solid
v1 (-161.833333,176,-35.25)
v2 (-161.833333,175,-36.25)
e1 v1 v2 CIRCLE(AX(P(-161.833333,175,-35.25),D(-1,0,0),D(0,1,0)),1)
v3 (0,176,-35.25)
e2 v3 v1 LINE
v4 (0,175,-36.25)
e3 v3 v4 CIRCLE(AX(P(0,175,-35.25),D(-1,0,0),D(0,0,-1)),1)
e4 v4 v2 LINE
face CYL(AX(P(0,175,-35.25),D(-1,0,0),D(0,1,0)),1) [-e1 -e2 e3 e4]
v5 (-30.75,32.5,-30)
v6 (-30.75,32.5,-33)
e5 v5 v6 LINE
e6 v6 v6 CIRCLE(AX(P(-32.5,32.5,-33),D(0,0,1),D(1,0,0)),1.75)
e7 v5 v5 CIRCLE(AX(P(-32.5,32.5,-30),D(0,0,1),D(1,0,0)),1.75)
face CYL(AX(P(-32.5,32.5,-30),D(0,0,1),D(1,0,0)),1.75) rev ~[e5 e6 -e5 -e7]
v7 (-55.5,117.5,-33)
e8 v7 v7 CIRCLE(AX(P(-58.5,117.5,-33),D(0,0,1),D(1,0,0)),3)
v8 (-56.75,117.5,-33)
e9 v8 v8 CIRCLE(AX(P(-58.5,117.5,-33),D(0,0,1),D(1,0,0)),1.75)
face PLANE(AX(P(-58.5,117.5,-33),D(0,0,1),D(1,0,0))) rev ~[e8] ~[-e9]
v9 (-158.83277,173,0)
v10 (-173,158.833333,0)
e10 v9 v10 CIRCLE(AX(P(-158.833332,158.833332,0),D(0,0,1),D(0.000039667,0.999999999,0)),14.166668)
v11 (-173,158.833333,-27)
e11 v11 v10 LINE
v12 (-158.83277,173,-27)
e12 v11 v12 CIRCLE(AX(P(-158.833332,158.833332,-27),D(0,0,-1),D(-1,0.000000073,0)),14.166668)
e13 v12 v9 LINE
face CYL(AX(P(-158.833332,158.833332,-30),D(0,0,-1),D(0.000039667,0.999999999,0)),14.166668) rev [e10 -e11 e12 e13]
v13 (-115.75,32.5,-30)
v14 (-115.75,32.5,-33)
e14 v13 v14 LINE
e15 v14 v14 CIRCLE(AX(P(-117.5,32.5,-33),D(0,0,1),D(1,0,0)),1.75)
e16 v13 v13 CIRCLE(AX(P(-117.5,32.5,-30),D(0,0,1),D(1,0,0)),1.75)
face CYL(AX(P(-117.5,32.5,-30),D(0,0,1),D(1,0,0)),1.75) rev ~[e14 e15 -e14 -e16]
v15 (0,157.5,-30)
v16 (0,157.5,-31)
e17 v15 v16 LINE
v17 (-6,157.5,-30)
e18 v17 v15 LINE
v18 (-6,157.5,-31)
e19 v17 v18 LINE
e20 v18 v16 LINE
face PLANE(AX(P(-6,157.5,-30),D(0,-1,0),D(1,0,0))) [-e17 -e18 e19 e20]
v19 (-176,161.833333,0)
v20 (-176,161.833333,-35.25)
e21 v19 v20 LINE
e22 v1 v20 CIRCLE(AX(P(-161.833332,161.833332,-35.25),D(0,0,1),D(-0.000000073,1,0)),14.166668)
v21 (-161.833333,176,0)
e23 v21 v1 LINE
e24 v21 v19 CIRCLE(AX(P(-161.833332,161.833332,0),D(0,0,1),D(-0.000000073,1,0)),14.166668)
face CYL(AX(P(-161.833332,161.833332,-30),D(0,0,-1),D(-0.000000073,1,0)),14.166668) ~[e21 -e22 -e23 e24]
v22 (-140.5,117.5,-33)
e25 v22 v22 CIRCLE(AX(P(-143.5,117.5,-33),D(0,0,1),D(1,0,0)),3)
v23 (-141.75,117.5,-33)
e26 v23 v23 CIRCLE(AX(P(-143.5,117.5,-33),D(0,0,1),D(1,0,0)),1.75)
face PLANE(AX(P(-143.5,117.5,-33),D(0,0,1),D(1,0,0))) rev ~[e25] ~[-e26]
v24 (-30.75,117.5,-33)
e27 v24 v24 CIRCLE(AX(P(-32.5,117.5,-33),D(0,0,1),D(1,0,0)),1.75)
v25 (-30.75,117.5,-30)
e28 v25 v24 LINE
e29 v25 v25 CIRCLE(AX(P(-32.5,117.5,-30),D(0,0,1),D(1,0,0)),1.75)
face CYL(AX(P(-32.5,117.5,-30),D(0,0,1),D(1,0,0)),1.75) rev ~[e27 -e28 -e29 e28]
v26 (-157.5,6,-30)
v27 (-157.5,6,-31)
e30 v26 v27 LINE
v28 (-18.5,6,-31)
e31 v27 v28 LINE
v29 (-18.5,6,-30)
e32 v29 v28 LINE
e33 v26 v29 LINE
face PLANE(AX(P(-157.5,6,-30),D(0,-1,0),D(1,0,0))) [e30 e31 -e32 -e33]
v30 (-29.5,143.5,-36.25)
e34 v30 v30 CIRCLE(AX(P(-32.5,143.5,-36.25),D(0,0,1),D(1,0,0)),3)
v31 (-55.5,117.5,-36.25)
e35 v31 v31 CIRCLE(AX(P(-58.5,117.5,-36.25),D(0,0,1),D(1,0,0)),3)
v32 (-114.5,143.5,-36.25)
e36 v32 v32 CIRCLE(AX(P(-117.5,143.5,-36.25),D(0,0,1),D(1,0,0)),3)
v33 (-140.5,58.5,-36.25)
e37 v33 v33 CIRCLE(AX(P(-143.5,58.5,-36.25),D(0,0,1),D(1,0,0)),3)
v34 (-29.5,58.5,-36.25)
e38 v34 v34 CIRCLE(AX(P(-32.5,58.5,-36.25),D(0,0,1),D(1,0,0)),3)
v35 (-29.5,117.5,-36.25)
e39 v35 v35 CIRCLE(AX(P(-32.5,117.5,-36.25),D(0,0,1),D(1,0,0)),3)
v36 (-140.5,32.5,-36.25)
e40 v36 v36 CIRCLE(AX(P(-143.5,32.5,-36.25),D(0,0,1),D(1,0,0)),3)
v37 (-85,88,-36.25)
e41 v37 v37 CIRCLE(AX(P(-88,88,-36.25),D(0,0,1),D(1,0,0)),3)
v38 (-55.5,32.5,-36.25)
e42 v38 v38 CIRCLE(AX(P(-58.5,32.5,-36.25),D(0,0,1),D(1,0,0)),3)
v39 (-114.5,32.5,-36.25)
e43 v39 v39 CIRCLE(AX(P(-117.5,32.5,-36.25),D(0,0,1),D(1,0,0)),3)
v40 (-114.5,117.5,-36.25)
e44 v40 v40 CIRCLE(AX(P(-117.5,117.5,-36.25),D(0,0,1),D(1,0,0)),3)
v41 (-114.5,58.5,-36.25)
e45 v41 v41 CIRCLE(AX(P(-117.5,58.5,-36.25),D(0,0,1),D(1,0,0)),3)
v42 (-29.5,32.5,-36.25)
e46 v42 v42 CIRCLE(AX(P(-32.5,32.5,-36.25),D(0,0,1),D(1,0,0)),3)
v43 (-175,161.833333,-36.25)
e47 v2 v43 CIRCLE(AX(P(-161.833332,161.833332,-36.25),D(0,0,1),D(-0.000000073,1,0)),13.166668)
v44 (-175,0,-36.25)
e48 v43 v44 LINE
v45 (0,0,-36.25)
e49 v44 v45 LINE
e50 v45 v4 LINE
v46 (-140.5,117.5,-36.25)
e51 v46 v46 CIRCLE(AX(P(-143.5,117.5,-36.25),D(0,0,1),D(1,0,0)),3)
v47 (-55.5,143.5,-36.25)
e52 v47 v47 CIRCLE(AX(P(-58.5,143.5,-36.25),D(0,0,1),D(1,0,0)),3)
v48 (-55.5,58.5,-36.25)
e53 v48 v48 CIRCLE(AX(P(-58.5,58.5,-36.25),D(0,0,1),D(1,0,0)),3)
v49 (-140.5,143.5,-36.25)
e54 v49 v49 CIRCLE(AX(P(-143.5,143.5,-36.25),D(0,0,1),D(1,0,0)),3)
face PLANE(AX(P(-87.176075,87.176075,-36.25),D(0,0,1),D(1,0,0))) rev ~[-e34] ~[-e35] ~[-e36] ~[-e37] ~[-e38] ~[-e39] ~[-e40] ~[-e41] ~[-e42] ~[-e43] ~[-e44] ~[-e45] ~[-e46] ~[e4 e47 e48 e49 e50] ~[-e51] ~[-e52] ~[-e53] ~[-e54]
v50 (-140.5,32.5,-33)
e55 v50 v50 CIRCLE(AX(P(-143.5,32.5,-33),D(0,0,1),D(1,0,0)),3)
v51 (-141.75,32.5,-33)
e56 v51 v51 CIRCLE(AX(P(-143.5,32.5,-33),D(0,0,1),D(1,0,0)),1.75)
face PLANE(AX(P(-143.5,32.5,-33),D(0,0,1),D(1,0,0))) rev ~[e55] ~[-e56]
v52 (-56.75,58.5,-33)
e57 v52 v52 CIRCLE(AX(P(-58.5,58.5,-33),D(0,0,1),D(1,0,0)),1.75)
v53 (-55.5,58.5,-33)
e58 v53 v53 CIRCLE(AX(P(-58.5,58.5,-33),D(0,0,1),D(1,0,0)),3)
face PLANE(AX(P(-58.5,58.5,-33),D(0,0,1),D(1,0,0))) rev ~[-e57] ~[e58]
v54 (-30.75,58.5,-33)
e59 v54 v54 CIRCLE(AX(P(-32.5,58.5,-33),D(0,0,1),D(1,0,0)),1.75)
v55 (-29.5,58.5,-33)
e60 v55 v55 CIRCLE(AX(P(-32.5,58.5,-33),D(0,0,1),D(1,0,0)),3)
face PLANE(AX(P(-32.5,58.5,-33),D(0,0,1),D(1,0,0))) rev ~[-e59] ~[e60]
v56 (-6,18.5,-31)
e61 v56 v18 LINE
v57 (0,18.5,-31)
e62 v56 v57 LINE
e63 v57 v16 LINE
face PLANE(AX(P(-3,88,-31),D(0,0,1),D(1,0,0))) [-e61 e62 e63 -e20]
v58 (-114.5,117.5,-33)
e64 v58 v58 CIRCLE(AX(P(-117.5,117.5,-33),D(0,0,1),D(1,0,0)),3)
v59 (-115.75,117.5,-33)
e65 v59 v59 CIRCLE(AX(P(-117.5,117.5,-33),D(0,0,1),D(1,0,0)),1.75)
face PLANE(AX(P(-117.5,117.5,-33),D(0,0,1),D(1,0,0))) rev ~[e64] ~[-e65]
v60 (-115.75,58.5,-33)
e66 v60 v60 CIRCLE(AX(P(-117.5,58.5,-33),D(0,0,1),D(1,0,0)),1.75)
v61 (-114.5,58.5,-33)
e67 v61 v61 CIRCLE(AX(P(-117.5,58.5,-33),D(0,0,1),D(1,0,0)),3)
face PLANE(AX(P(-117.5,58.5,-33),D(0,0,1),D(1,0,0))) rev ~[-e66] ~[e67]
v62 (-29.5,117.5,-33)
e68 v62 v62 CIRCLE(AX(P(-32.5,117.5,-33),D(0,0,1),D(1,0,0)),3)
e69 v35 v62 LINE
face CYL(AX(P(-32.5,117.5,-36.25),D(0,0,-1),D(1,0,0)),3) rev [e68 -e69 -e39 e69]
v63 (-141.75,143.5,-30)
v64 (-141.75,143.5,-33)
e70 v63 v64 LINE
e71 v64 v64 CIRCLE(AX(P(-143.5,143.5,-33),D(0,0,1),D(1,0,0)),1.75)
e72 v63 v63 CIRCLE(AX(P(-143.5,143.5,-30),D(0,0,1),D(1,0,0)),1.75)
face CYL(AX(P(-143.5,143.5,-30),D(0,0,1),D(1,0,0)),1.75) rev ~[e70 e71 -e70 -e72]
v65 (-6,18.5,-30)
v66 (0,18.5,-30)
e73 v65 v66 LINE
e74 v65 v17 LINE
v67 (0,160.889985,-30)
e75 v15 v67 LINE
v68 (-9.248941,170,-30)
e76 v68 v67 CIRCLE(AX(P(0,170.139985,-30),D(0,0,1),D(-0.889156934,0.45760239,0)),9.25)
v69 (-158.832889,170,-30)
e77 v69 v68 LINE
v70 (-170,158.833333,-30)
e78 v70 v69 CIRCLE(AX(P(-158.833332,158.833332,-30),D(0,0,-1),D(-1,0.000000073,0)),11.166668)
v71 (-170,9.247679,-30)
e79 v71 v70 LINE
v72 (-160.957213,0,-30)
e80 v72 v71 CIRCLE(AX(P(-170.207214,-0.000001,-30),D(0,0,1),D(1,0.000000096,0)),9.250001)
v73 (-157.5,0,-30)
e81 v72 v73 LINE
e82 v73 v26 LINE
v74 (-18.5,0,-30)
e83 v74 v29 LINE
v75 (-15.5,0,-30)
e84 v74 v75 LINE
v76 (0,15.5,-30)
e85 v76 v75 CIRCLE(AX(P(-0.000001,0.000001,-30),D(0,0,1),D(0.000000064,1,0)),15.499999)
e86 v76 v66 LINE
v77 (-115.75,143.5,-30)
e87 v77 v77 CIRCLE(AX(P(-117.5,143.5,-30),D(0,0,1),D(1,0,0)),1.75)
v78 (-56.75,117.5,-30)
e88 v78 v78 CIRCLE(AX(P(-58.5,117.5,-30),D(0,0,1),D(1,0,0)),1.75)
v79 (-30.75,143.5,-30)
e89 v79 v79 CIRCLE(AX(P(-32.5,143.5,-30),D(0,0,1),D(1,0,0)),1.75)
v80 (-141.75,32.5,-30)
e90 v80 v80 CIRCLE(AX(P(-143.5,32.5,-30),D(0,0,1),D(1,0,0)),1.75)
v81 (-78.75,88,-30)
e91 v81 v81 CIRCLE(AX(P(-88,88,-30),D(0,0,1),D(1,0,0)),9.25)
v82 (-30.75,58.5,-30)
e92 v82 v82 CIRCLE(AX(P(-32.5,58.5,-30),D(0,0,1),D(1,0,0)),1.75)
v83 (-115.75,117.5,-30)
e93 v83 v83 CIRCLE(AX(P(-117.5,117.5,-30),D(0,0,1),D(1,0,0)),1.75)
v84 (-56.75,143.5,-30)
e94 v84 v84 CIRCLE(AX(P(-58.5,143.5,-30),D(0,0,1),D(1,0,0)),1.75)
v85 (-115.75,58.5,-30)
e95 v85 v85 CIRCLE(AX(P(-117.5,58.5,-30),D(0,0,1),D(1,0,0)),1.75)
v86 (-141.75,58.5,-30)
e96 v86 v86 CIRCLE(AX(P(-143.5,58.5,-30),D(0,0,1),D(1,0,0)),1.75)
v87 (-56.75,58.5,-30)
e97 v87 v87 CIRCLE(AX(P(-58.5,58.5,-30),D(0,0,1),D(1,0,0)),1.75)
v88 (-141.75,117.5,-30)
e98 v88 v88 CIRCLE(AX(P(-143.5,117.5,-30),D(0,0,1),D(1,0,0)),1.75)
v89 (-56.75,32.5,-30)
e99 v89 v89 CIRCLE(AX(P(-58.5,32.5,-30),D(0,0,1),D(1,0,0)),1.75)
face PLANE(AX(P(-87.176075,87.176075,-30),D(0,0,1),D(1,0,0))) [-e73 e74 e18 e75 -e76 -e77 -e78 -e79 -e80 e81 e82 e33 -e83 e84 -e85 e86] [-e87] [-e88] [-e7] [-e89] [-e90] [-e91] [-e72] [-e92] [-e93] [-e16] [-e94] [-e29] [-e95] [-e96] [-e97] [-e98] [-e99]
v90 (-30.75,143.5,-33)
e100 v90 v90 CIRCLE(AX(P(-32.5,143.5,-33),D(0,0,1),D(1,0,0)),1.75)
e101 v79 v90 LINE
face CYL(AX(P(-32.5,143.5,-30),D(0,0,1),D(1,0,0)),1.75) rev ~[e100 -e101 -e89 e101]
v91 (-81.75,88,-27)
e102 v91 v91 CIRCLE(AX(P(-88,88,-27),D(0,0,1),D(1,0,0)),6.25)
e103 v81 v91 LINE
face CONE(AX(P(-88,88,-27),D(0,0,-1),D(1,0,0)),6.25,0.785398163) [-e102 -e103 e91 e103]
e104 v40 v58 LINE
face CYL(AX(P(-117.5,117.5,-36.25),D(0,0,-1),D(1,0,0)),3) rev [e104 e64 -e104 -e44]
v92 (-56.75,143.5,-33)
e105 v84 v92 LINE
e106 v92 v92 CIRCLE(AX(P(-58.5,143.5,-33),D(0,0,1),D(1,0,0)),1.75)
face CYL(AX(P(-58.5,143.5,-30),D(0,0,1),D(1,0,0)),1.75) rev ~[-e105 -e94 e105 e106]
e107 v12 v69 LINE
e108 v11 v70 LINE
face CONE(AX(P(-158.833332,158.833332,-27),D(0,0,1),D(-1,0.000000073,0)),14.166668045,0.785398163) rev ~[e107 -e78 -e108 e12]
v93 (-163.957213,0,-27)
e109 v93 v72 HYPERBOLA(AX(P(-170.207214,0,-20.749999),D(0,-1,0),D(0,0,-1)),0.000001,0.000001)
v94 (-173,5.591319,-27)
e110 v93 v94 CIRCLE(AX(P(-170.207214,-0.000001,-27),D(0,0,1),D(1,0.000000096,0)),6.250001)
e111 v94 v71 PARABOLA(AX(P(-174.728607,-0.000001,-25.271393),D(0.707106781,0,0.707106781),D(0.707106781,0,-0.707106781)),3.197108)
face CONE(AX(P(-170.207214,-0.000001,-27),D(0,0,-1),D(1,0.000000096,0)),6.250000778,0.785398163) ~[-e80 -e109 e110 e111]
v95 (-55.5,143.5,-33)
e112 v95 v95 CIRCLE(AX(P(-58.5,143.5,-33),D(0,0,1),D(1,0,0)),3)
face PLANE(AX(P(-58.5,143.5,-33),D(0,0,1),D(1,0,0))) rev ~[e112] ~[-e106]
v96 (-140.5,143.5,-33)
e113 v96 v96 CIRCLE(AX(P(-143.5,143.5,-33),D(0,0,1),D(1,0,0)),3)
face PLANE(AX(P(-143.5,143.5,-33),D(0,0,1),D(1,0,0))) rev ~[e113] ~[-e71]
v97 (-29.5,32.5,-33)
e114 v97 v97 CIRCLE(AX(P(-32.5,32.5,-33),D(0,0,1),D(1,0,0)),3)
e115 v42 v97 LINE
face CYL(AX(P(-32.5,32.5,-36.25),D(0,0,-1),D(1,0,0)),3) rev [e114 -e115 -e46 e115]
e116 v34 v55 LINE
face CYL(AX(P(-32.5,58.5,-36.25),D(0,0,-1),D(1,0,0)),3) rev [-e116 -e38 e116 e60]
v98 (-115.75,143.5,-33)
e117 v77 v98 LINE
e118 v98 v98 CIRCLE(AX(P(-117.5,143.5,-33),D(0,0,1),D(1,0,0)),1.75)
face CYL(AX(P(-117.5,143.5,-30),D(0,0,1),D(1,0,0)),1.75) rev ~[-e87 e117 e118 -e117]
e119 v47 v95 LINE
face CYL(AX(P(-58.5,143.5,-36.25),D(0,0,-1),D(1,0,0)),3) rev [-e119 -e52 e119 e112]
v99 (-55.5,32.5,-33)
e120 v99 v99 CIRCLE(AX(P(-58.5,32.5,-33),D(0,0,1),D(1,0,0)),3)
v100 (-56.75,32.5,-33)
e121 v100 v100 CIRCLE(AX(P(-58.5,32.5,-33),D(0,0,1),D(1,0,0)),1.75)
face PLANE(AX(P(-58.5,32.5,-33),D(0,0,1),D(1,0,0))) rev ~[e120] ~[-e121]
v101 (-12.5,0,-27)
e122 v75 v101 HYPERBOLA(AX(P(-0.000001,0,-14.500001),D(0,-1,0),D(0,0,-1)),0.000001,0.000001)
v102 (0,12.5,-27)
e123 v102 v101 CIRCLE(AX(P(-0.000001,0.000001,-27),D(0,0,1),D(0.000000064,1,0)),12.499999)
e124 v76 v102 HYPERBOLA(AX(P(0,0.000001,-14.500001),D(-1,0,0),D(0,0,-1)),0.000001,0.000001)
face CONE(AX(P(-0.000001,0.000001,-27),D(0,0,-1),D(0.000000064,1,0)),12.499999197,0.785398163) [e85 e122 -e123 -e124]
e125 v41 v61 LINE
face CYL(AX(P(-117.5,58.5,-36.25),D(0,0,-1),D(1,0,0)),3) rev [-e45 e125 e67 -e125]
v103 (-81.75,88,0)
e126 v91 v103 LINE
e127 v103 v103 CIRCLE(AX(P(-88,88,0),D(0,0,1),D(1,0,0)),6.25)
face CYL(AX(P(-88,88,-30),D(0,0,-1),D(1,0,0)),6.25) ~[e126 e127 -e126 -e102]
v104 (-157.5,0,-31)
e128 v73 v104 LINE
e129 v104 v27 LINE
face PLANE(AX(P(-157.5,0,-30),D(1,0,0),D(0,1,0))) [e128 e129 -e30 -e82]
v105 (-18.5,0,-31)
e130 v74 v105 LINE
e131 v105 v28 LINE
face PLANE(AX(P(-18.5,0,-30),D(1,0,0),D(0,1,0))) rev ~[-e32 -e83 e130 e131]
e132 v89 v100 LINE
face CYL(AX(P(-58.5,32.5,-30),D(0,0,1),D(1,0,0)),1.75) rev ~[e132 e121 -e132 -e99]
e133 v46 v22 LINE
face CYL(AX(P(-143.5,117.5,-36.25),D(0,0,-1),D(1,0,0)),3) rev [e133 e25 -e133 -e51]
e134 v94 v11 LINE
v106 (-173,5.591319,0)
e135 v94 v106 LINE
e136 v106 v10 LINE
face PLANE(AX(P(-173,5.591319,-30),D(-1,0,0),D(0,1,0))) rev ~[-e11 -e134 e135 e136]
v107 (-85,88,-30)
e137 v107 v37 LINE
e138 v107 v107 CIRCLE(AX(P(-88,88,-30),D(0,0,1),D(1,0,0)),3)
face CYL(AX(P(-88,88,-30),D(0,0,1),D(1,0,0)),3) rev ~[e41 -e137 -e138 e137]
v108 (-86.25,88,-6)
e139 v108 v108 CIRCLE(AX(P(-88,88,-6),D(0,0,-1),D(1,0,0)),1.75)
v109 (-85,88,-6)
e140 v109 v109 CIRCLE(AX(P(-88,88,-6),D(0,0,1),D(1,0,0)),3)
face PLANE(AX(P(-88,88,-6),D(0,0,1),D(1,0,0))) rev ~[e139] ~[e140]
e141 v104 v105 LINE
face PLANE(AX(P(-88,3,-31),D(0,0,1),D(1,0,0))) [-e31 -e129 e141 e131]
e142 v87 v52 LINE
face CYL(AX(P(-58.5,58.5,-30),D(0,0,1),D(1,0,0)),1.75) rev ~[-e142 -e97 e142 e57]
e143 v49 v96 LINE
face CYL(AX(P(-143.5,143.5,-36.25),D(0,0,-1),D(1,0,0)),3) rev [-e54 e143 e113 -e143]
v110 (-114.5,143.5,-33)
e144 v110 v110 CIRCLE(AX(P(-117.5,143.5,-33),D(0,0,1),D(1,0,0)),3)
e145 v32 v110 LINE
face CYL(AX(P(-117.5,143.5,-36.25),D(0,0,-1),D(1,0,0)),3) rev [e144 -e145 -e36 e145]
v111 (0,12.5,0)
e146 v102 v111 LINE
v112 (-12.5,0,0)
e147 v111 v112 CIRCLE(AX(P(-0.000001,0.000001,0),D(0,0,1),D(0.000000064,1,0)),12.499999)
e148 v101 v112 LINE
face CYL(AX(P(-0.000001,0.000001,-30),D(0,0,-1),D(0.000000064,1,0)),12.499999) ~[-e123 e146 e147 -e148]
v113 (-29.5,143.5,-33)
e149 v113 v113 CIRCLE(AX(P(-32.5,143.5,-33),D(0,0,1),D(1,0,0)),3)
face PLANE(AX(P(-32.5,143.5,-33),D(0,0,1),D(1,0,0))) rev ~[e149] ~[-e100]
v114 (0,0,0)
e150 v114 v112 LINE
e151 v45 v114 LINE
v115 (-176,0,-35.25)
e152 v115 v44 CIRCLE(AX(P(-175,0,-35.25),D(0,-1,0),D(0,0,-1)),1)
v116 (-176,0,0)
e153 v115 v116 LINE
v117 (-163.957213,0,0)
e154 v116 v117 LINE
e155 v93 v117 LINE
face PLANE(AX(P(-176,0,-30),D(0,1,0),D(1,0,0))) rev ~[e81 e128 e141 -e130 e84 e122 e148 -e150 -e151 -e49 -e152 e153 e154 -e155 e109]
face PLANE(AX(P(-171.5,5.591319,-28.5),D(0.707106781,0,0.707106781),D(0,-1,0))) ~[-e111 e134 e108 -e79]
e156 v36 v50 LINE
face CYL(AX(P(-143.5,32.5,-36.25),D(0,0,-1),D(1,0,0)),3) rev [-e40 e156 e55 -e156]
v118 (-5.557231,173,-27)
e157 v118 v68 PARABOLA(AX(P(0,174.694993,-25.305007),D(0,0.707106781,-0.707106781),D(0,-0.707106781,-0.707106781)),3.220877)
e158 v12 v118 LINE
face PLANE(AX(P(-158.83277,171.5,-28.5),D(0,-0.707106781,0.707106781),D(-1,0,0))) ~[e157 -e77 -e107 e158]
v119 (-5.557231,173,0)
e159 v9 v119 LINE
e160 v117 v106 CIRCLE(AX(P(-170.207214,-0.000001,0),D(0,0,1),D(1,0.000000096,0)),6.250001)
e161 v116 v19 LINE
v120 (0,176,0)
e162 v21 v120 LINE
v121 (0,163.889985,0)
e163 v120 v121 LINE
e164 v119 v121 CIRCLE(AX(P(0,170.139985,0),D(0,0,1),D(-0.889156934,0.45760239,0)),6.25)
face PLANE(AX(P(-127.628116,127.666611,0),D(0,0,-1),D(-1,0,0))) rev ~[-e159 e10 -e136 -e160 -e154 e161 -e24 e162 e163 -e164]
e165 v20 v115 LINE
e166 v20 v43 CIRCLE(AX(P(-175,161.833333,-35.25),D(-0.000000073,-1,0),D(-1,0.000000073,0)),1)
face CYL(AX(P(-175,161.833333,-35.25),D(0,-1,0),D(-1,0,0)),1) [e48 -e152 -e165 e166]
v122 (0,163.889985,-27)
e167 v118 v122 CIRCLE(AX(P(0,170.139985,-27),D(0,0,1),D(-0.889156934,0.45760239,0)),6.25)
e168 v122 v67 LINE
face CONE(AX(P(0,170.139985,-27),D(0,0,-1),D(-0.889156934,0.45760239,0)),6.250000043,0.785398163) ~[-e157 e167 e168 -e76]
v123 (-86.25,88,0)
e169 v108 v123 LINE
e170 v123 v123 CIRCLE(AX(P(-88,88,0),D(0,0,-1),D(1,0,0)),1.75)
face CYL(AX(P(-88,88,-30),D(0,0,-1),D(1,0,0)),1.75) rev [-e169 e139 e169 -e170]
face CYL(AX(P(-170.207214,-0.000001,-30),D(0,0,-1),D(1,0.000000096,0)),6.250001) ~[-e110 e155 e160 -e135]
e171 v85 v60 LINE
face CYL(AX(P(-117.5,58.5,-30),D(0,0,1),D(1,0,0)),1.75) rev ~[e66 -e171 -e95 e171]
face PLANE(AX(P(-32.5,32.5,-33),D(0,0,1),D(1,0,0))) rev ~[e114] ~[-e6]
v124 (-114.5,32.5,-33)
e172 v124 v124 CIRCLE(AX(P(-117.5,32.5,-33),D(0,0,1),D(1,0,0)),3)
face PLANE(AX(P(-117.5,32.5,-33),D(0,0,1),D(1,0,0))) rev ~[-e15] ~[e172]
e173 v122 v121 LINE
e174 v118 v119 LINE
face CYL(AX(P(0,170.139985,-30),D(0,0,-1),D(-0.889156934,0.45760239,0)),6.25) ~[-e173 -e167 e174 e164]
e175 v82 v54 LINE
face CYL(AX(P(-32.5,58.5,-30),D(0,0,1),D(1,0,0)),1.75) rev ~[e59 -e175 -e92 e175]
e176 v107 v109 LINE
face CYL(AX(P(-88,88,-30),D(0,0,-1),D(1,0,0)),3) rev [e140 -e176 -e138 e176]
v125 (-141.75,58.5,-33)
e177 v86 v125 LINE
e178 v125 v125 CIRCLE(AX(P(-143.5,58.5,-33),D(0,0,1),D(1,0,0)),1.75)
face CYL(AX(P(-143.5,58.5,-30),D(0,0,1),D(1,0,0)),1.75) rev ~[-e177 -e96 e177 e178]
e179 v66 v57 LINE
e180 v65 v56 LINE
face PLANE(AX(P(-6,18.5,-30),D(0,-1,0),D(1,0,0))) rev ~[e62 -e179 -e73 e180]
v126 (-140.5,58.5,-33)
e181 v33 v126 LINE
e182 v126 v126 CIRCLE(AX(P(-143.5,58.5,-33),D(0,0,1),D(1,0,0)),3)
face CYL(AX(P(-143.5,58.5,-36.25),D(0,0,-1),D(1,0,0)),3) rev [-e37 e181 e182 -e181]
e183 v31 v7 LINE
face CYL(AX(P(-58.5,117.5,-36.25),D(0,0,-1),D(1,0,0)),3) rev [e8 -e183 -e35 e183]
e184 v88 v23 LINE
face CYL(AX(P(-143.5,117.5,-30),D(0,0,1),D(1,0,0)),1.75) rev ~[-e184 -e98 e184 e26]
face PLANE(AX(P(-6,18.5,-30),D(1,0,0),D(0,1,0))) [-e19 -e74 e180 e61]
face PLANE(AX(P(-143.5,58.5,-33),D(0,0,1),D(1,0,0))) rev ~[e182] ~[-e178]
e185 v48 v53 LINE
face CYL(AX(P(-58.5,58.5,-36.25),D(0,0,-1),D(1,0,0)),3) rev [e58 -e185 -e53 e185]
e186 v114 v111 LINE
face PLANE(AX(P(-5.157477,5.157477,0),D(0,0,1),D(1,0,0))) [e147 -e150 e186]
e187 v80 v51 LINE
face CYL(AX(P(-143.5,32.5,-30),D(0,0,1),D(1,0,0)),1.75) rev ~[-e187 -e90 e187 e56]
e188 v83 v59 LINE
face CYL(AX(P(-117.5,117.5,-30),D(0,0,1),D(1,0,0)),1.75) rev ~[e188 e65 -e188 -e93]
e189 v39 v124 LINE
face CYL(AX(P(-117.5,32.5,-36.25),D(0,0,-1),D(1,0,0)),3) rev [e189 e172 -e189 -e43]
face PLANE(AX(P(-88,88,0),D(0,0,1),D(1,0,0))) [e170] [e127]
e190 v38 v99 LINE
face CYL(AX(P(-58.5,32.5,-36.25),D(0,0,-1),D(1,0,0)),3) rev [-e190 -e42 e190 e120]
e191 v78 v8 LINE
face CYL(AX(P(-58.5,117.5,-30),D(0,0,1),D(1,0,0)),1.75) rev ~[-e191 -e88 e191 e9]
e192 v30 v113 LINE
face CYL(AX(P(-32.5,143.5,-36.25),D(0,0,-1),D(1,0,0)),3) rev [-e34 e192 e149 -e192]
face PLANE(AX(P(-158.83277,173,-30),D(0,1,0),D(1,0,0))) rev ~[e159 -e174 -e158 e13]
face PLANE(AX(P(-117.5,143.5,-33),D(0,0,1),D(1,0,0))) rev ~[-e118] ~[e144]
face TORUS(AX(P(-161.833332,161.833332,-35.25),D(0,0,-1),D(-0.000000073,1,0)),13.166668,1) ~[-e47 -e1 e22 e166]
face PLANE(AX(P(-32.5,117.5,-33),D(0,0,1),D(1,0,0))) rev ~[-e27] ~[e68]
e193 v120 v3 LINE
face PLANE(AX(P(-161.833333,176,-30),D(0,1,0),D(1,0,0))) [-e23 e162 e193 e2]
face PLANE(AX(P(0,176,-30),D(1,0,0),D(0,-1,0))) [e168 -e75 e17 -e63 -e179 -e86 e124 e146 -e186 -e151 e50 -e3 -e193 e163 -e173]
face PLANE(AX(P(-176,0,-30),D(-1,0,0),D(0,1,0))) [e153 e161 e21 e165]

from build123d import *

# Parameters (mm, degrees)
PAD005_DEPTH         = 6.25
SKETCH009_R          = 6.25
PAD006_DEPTH         = 30
SKETCH010_R          = 1.75
POCKET002_DEPTH      = 100
POCKET002_DEPTH_BACK = 100
SKETCH011_R          = 3
POCKET003_DEPTH      = 3.25
CHAMFER003_SIZE      = 3
FILLET003_R          = 1
SKETCH012_W          = 6
SKETCH012_H          = 139
SKETCH012_W_2        = 139
SKETCH012_H_2        = 6
POCKET004_DEPTH      = 1
SKETCH019_R          = 3
POCKET008_DEPTH      = 100
POCKET008_DEPTH_BACK = 24
SKETCH020_R          = 1.75
POCKET009_DEPTH      = 100
POCKET009_DEPTH_BACK = 100


with BuildPart() as part:
    # Sketch008 → Pad005 (new body)
    with BuildSketch(Plane.XY):
        with BuildLine():
            Line((88, 88), (-73.833333, 88))
            ThreePointArc((-73.833333, 88), (-83.850679, 83.850679), (-88, 73.833333))
            Line((-88, 73.833333), (-88, -88))
            Line((-88, -88), (88, -88))
            Line((88, -88), (88, 88))
        make_face()
    extrude(amount=-PAD005_DEPTH)

    # Sketch009 → Pad006 (join)
    with BuildSketch(Plane.XY):
        Circle(SKETCH009_R)
        with BuildLine():
            Line((-88, -88), (-88, 73.833333))
            ThreePointArc((-73.833333, 88), (-83.850679, 83.850679), (-88, 73.833333))
            Line((-73.833333, 88), (88, 88))
            Line((88, 88), (88, 75.889985))
            ThreePointArc((82.442769, 85), (82.664384, 78.885188), (88, 75.889985))
            Line((-70.83277, 85), (82.442769, 85))
            ThreePointArc((-70.83277, 85), (-80.85048, 80.850878), (-85, 70.833333))
            Line((-85, -82.408681), (-85, 70.833333))
            ThreePointArc((-75.957213, -88), (-78.920301, -82.684108), (-85, -82.408681))
            Line((-88, -88), (-75.957213, -88))
        make_face()
        with BuildLine():
            ThreePointArc((88, -75.5), (79.161165, -79.161165), (75.5, -88))
            Line((88, -88), (75.5, -88))
            Line((88, -88), (88, -75.5))
        make_face()
    extrude(amount=PAD006_DEPTH)

    # Sketch010 → Pocket002 (cut, two sides)
    with BuildSketch(Plane.XY) as pocket002_sk:
        with Locations((-55.5, 55.5)):
            Circle(SKETCH010_R)
        with Locations((-29.5, 55.5)):
            Circle(SKETCH010_R)
        with Locations((-29.5, 29.5)):
            Circle(SKETCH010_R)
        with Locations((-55.5, 29.5)):
            Circle(SKETCH010_R)
        with Locations((29.5, 55.5)):
            Circle(SKETCH010_R)
        with Locations((55.5, 55.5)):
            Circle(SKETCH010_R)
        with Locations((55.5, 29.5)):
            Circle(SKETCH010_R)
        with Locations((29.5, 29.5)):
            Circle(SKETCH010_R)
        with Locations((29.5, -29.5)):
            Circle(SKETCH010_R)
        with Locations((55.5, -29.5)):
            Circle(SKETCH010_R)
        with Locations((55.5, -55.5)):
            Circle(SKETCH010_R)
        with Locations((29.5, -55.5)):
            Circle(SKETCH010_R)
        with Locations((-55.5, -29.5)):
            Circle(SKETCH010_R)
        with Locations((-29.5, -29.5)):
            Circle(SKETCH010_R)
        with Locations((-29.5, -55.5)):
            Circle(SKETCH010_R)
        with Locations((-55.5, -55.5)):
            Circle(SKETCH010_R)
    extrude(amount=-POCKET002_DEPTH, mode=Mode.SUBTRACT)
    extrude(pocket002_sk.sketch, amount=POCKET002_DEPTH_BACK, mode=Mode.SUBTRACT)

    # Sketch011 → Pocket003 (cut)
    with BuildSketch(Plane.XY.offset(-6.25)):
        with Locations((-55.5, 55.5)):
            Circle(SKETCH011_R)
        with Locations((-29.5, 55.5)):
            Circle(SKETCH011_R)
        with Locations((-29.5, 29.5)):
            Circle(SKETCH011_R)
        with Locations((-55.5, 29.5)):
            Circle(SKETCH011_R)
        with Locations((29.5, 55.5)):
            Circle(SKETCH011_R)
        with Locations((55.5, 55.5)):
            Circle(SKETCH011_R)
        with Locations((55.5, 29.5)):
            Circle(SKETCH011_R)
        with Locations((29.5, 29.5)):
            Circle(SKETCH011_R)
        with Locations((29.5, -29.5)):
            Circle(SKETCH011_R)
        with Locations((55.5, -29.5)):
            Circle(SKETCH011_R)
        with Locations((55.5, -55.5)):
            Circle(SKETCH011_R)
        with Locations((29.5, -55.5)):
            Circle(SKETCH011_R)
        with Locations((-55.5, -29.5)):
            Circle(SKETCH011_R)
        with Locations((-29.5, -29.5)):
            Circle(SKETCH011_R)
        with Locations((-29.5, -55.5)):
            Circle(SKETCH011_R)
        with Locations((-55.5, -55.5)):
            Circle(SKETCH011_R)
    extrude(amount=POCKET003_DEPTH, mode=Mode.SUBTRACT)

    # Chamfer003
    chamfer003_edges = [part.edges().sort_by_distance(p)[0] for p in [
        (-6.25, 0, 0),
        (79.161165, -79.161165, 0),
        (82.664384, 78.885188, 0),
        (-78.920301, -82.684108, 0),
        (5.804999, 85, 0),
    ]]
    chamfer(chamfer003_edges, length=CHAMFER003_SIZE)

    # Fillet003
    fillet003_edges = [part.edges().sort_by_distance(p)[0] for p in [
        (-88, -7.083333, -6.25),
    ]]
    fillet(fillet003_edges, radius=FILLET003_R)

    # Sketch012 → Pocket004 (cut)
    with BuildSketch(Plane.XY):
        with Locations((85, 0)):
            Rectangle(SKETCH012_W, SKETCH012_H)
        with Locations((0, -85)):
            Rectangle(SKETCH012_W_2, SKETCH012_H_2)
    extrude(amount=-POCKET004_DEPTH, mode=Mode.SUBTRACT)

    # Sketch019 → Pocket008 (cut, two sides)
    with BuildSketch(Plane.XY) as pocket008_sk:
        Circle(SKETCH019_R)
    extrude(amount=-POCKET008_DEPTH, mode=Mode.SUBTRACT)
    extrude(pocket008_sk.sketch, amount=POCKET008_DEPTH_BACK, mode=Mode.SUBTRACT)

    # Sketch020 → Pocket009 (cut, two sides)
    with BuildSketch(Plane.XY) as pocket009_sk:
        Circle(SKETCH020_R)
    extrude(amount=-POCKET009_DEPTH, mode=Mode.SUBTRACT)
    extrude(pocket009_sk.sketch, amount=POCKET009_DEPTH_BACK, mode=Mode.SUBTRACT)


with BuildPart() as part_1:
    # Body002 placement: moved
    add(part.part.moved(Location((-88, 88, -30))))


solid = part_1.part
